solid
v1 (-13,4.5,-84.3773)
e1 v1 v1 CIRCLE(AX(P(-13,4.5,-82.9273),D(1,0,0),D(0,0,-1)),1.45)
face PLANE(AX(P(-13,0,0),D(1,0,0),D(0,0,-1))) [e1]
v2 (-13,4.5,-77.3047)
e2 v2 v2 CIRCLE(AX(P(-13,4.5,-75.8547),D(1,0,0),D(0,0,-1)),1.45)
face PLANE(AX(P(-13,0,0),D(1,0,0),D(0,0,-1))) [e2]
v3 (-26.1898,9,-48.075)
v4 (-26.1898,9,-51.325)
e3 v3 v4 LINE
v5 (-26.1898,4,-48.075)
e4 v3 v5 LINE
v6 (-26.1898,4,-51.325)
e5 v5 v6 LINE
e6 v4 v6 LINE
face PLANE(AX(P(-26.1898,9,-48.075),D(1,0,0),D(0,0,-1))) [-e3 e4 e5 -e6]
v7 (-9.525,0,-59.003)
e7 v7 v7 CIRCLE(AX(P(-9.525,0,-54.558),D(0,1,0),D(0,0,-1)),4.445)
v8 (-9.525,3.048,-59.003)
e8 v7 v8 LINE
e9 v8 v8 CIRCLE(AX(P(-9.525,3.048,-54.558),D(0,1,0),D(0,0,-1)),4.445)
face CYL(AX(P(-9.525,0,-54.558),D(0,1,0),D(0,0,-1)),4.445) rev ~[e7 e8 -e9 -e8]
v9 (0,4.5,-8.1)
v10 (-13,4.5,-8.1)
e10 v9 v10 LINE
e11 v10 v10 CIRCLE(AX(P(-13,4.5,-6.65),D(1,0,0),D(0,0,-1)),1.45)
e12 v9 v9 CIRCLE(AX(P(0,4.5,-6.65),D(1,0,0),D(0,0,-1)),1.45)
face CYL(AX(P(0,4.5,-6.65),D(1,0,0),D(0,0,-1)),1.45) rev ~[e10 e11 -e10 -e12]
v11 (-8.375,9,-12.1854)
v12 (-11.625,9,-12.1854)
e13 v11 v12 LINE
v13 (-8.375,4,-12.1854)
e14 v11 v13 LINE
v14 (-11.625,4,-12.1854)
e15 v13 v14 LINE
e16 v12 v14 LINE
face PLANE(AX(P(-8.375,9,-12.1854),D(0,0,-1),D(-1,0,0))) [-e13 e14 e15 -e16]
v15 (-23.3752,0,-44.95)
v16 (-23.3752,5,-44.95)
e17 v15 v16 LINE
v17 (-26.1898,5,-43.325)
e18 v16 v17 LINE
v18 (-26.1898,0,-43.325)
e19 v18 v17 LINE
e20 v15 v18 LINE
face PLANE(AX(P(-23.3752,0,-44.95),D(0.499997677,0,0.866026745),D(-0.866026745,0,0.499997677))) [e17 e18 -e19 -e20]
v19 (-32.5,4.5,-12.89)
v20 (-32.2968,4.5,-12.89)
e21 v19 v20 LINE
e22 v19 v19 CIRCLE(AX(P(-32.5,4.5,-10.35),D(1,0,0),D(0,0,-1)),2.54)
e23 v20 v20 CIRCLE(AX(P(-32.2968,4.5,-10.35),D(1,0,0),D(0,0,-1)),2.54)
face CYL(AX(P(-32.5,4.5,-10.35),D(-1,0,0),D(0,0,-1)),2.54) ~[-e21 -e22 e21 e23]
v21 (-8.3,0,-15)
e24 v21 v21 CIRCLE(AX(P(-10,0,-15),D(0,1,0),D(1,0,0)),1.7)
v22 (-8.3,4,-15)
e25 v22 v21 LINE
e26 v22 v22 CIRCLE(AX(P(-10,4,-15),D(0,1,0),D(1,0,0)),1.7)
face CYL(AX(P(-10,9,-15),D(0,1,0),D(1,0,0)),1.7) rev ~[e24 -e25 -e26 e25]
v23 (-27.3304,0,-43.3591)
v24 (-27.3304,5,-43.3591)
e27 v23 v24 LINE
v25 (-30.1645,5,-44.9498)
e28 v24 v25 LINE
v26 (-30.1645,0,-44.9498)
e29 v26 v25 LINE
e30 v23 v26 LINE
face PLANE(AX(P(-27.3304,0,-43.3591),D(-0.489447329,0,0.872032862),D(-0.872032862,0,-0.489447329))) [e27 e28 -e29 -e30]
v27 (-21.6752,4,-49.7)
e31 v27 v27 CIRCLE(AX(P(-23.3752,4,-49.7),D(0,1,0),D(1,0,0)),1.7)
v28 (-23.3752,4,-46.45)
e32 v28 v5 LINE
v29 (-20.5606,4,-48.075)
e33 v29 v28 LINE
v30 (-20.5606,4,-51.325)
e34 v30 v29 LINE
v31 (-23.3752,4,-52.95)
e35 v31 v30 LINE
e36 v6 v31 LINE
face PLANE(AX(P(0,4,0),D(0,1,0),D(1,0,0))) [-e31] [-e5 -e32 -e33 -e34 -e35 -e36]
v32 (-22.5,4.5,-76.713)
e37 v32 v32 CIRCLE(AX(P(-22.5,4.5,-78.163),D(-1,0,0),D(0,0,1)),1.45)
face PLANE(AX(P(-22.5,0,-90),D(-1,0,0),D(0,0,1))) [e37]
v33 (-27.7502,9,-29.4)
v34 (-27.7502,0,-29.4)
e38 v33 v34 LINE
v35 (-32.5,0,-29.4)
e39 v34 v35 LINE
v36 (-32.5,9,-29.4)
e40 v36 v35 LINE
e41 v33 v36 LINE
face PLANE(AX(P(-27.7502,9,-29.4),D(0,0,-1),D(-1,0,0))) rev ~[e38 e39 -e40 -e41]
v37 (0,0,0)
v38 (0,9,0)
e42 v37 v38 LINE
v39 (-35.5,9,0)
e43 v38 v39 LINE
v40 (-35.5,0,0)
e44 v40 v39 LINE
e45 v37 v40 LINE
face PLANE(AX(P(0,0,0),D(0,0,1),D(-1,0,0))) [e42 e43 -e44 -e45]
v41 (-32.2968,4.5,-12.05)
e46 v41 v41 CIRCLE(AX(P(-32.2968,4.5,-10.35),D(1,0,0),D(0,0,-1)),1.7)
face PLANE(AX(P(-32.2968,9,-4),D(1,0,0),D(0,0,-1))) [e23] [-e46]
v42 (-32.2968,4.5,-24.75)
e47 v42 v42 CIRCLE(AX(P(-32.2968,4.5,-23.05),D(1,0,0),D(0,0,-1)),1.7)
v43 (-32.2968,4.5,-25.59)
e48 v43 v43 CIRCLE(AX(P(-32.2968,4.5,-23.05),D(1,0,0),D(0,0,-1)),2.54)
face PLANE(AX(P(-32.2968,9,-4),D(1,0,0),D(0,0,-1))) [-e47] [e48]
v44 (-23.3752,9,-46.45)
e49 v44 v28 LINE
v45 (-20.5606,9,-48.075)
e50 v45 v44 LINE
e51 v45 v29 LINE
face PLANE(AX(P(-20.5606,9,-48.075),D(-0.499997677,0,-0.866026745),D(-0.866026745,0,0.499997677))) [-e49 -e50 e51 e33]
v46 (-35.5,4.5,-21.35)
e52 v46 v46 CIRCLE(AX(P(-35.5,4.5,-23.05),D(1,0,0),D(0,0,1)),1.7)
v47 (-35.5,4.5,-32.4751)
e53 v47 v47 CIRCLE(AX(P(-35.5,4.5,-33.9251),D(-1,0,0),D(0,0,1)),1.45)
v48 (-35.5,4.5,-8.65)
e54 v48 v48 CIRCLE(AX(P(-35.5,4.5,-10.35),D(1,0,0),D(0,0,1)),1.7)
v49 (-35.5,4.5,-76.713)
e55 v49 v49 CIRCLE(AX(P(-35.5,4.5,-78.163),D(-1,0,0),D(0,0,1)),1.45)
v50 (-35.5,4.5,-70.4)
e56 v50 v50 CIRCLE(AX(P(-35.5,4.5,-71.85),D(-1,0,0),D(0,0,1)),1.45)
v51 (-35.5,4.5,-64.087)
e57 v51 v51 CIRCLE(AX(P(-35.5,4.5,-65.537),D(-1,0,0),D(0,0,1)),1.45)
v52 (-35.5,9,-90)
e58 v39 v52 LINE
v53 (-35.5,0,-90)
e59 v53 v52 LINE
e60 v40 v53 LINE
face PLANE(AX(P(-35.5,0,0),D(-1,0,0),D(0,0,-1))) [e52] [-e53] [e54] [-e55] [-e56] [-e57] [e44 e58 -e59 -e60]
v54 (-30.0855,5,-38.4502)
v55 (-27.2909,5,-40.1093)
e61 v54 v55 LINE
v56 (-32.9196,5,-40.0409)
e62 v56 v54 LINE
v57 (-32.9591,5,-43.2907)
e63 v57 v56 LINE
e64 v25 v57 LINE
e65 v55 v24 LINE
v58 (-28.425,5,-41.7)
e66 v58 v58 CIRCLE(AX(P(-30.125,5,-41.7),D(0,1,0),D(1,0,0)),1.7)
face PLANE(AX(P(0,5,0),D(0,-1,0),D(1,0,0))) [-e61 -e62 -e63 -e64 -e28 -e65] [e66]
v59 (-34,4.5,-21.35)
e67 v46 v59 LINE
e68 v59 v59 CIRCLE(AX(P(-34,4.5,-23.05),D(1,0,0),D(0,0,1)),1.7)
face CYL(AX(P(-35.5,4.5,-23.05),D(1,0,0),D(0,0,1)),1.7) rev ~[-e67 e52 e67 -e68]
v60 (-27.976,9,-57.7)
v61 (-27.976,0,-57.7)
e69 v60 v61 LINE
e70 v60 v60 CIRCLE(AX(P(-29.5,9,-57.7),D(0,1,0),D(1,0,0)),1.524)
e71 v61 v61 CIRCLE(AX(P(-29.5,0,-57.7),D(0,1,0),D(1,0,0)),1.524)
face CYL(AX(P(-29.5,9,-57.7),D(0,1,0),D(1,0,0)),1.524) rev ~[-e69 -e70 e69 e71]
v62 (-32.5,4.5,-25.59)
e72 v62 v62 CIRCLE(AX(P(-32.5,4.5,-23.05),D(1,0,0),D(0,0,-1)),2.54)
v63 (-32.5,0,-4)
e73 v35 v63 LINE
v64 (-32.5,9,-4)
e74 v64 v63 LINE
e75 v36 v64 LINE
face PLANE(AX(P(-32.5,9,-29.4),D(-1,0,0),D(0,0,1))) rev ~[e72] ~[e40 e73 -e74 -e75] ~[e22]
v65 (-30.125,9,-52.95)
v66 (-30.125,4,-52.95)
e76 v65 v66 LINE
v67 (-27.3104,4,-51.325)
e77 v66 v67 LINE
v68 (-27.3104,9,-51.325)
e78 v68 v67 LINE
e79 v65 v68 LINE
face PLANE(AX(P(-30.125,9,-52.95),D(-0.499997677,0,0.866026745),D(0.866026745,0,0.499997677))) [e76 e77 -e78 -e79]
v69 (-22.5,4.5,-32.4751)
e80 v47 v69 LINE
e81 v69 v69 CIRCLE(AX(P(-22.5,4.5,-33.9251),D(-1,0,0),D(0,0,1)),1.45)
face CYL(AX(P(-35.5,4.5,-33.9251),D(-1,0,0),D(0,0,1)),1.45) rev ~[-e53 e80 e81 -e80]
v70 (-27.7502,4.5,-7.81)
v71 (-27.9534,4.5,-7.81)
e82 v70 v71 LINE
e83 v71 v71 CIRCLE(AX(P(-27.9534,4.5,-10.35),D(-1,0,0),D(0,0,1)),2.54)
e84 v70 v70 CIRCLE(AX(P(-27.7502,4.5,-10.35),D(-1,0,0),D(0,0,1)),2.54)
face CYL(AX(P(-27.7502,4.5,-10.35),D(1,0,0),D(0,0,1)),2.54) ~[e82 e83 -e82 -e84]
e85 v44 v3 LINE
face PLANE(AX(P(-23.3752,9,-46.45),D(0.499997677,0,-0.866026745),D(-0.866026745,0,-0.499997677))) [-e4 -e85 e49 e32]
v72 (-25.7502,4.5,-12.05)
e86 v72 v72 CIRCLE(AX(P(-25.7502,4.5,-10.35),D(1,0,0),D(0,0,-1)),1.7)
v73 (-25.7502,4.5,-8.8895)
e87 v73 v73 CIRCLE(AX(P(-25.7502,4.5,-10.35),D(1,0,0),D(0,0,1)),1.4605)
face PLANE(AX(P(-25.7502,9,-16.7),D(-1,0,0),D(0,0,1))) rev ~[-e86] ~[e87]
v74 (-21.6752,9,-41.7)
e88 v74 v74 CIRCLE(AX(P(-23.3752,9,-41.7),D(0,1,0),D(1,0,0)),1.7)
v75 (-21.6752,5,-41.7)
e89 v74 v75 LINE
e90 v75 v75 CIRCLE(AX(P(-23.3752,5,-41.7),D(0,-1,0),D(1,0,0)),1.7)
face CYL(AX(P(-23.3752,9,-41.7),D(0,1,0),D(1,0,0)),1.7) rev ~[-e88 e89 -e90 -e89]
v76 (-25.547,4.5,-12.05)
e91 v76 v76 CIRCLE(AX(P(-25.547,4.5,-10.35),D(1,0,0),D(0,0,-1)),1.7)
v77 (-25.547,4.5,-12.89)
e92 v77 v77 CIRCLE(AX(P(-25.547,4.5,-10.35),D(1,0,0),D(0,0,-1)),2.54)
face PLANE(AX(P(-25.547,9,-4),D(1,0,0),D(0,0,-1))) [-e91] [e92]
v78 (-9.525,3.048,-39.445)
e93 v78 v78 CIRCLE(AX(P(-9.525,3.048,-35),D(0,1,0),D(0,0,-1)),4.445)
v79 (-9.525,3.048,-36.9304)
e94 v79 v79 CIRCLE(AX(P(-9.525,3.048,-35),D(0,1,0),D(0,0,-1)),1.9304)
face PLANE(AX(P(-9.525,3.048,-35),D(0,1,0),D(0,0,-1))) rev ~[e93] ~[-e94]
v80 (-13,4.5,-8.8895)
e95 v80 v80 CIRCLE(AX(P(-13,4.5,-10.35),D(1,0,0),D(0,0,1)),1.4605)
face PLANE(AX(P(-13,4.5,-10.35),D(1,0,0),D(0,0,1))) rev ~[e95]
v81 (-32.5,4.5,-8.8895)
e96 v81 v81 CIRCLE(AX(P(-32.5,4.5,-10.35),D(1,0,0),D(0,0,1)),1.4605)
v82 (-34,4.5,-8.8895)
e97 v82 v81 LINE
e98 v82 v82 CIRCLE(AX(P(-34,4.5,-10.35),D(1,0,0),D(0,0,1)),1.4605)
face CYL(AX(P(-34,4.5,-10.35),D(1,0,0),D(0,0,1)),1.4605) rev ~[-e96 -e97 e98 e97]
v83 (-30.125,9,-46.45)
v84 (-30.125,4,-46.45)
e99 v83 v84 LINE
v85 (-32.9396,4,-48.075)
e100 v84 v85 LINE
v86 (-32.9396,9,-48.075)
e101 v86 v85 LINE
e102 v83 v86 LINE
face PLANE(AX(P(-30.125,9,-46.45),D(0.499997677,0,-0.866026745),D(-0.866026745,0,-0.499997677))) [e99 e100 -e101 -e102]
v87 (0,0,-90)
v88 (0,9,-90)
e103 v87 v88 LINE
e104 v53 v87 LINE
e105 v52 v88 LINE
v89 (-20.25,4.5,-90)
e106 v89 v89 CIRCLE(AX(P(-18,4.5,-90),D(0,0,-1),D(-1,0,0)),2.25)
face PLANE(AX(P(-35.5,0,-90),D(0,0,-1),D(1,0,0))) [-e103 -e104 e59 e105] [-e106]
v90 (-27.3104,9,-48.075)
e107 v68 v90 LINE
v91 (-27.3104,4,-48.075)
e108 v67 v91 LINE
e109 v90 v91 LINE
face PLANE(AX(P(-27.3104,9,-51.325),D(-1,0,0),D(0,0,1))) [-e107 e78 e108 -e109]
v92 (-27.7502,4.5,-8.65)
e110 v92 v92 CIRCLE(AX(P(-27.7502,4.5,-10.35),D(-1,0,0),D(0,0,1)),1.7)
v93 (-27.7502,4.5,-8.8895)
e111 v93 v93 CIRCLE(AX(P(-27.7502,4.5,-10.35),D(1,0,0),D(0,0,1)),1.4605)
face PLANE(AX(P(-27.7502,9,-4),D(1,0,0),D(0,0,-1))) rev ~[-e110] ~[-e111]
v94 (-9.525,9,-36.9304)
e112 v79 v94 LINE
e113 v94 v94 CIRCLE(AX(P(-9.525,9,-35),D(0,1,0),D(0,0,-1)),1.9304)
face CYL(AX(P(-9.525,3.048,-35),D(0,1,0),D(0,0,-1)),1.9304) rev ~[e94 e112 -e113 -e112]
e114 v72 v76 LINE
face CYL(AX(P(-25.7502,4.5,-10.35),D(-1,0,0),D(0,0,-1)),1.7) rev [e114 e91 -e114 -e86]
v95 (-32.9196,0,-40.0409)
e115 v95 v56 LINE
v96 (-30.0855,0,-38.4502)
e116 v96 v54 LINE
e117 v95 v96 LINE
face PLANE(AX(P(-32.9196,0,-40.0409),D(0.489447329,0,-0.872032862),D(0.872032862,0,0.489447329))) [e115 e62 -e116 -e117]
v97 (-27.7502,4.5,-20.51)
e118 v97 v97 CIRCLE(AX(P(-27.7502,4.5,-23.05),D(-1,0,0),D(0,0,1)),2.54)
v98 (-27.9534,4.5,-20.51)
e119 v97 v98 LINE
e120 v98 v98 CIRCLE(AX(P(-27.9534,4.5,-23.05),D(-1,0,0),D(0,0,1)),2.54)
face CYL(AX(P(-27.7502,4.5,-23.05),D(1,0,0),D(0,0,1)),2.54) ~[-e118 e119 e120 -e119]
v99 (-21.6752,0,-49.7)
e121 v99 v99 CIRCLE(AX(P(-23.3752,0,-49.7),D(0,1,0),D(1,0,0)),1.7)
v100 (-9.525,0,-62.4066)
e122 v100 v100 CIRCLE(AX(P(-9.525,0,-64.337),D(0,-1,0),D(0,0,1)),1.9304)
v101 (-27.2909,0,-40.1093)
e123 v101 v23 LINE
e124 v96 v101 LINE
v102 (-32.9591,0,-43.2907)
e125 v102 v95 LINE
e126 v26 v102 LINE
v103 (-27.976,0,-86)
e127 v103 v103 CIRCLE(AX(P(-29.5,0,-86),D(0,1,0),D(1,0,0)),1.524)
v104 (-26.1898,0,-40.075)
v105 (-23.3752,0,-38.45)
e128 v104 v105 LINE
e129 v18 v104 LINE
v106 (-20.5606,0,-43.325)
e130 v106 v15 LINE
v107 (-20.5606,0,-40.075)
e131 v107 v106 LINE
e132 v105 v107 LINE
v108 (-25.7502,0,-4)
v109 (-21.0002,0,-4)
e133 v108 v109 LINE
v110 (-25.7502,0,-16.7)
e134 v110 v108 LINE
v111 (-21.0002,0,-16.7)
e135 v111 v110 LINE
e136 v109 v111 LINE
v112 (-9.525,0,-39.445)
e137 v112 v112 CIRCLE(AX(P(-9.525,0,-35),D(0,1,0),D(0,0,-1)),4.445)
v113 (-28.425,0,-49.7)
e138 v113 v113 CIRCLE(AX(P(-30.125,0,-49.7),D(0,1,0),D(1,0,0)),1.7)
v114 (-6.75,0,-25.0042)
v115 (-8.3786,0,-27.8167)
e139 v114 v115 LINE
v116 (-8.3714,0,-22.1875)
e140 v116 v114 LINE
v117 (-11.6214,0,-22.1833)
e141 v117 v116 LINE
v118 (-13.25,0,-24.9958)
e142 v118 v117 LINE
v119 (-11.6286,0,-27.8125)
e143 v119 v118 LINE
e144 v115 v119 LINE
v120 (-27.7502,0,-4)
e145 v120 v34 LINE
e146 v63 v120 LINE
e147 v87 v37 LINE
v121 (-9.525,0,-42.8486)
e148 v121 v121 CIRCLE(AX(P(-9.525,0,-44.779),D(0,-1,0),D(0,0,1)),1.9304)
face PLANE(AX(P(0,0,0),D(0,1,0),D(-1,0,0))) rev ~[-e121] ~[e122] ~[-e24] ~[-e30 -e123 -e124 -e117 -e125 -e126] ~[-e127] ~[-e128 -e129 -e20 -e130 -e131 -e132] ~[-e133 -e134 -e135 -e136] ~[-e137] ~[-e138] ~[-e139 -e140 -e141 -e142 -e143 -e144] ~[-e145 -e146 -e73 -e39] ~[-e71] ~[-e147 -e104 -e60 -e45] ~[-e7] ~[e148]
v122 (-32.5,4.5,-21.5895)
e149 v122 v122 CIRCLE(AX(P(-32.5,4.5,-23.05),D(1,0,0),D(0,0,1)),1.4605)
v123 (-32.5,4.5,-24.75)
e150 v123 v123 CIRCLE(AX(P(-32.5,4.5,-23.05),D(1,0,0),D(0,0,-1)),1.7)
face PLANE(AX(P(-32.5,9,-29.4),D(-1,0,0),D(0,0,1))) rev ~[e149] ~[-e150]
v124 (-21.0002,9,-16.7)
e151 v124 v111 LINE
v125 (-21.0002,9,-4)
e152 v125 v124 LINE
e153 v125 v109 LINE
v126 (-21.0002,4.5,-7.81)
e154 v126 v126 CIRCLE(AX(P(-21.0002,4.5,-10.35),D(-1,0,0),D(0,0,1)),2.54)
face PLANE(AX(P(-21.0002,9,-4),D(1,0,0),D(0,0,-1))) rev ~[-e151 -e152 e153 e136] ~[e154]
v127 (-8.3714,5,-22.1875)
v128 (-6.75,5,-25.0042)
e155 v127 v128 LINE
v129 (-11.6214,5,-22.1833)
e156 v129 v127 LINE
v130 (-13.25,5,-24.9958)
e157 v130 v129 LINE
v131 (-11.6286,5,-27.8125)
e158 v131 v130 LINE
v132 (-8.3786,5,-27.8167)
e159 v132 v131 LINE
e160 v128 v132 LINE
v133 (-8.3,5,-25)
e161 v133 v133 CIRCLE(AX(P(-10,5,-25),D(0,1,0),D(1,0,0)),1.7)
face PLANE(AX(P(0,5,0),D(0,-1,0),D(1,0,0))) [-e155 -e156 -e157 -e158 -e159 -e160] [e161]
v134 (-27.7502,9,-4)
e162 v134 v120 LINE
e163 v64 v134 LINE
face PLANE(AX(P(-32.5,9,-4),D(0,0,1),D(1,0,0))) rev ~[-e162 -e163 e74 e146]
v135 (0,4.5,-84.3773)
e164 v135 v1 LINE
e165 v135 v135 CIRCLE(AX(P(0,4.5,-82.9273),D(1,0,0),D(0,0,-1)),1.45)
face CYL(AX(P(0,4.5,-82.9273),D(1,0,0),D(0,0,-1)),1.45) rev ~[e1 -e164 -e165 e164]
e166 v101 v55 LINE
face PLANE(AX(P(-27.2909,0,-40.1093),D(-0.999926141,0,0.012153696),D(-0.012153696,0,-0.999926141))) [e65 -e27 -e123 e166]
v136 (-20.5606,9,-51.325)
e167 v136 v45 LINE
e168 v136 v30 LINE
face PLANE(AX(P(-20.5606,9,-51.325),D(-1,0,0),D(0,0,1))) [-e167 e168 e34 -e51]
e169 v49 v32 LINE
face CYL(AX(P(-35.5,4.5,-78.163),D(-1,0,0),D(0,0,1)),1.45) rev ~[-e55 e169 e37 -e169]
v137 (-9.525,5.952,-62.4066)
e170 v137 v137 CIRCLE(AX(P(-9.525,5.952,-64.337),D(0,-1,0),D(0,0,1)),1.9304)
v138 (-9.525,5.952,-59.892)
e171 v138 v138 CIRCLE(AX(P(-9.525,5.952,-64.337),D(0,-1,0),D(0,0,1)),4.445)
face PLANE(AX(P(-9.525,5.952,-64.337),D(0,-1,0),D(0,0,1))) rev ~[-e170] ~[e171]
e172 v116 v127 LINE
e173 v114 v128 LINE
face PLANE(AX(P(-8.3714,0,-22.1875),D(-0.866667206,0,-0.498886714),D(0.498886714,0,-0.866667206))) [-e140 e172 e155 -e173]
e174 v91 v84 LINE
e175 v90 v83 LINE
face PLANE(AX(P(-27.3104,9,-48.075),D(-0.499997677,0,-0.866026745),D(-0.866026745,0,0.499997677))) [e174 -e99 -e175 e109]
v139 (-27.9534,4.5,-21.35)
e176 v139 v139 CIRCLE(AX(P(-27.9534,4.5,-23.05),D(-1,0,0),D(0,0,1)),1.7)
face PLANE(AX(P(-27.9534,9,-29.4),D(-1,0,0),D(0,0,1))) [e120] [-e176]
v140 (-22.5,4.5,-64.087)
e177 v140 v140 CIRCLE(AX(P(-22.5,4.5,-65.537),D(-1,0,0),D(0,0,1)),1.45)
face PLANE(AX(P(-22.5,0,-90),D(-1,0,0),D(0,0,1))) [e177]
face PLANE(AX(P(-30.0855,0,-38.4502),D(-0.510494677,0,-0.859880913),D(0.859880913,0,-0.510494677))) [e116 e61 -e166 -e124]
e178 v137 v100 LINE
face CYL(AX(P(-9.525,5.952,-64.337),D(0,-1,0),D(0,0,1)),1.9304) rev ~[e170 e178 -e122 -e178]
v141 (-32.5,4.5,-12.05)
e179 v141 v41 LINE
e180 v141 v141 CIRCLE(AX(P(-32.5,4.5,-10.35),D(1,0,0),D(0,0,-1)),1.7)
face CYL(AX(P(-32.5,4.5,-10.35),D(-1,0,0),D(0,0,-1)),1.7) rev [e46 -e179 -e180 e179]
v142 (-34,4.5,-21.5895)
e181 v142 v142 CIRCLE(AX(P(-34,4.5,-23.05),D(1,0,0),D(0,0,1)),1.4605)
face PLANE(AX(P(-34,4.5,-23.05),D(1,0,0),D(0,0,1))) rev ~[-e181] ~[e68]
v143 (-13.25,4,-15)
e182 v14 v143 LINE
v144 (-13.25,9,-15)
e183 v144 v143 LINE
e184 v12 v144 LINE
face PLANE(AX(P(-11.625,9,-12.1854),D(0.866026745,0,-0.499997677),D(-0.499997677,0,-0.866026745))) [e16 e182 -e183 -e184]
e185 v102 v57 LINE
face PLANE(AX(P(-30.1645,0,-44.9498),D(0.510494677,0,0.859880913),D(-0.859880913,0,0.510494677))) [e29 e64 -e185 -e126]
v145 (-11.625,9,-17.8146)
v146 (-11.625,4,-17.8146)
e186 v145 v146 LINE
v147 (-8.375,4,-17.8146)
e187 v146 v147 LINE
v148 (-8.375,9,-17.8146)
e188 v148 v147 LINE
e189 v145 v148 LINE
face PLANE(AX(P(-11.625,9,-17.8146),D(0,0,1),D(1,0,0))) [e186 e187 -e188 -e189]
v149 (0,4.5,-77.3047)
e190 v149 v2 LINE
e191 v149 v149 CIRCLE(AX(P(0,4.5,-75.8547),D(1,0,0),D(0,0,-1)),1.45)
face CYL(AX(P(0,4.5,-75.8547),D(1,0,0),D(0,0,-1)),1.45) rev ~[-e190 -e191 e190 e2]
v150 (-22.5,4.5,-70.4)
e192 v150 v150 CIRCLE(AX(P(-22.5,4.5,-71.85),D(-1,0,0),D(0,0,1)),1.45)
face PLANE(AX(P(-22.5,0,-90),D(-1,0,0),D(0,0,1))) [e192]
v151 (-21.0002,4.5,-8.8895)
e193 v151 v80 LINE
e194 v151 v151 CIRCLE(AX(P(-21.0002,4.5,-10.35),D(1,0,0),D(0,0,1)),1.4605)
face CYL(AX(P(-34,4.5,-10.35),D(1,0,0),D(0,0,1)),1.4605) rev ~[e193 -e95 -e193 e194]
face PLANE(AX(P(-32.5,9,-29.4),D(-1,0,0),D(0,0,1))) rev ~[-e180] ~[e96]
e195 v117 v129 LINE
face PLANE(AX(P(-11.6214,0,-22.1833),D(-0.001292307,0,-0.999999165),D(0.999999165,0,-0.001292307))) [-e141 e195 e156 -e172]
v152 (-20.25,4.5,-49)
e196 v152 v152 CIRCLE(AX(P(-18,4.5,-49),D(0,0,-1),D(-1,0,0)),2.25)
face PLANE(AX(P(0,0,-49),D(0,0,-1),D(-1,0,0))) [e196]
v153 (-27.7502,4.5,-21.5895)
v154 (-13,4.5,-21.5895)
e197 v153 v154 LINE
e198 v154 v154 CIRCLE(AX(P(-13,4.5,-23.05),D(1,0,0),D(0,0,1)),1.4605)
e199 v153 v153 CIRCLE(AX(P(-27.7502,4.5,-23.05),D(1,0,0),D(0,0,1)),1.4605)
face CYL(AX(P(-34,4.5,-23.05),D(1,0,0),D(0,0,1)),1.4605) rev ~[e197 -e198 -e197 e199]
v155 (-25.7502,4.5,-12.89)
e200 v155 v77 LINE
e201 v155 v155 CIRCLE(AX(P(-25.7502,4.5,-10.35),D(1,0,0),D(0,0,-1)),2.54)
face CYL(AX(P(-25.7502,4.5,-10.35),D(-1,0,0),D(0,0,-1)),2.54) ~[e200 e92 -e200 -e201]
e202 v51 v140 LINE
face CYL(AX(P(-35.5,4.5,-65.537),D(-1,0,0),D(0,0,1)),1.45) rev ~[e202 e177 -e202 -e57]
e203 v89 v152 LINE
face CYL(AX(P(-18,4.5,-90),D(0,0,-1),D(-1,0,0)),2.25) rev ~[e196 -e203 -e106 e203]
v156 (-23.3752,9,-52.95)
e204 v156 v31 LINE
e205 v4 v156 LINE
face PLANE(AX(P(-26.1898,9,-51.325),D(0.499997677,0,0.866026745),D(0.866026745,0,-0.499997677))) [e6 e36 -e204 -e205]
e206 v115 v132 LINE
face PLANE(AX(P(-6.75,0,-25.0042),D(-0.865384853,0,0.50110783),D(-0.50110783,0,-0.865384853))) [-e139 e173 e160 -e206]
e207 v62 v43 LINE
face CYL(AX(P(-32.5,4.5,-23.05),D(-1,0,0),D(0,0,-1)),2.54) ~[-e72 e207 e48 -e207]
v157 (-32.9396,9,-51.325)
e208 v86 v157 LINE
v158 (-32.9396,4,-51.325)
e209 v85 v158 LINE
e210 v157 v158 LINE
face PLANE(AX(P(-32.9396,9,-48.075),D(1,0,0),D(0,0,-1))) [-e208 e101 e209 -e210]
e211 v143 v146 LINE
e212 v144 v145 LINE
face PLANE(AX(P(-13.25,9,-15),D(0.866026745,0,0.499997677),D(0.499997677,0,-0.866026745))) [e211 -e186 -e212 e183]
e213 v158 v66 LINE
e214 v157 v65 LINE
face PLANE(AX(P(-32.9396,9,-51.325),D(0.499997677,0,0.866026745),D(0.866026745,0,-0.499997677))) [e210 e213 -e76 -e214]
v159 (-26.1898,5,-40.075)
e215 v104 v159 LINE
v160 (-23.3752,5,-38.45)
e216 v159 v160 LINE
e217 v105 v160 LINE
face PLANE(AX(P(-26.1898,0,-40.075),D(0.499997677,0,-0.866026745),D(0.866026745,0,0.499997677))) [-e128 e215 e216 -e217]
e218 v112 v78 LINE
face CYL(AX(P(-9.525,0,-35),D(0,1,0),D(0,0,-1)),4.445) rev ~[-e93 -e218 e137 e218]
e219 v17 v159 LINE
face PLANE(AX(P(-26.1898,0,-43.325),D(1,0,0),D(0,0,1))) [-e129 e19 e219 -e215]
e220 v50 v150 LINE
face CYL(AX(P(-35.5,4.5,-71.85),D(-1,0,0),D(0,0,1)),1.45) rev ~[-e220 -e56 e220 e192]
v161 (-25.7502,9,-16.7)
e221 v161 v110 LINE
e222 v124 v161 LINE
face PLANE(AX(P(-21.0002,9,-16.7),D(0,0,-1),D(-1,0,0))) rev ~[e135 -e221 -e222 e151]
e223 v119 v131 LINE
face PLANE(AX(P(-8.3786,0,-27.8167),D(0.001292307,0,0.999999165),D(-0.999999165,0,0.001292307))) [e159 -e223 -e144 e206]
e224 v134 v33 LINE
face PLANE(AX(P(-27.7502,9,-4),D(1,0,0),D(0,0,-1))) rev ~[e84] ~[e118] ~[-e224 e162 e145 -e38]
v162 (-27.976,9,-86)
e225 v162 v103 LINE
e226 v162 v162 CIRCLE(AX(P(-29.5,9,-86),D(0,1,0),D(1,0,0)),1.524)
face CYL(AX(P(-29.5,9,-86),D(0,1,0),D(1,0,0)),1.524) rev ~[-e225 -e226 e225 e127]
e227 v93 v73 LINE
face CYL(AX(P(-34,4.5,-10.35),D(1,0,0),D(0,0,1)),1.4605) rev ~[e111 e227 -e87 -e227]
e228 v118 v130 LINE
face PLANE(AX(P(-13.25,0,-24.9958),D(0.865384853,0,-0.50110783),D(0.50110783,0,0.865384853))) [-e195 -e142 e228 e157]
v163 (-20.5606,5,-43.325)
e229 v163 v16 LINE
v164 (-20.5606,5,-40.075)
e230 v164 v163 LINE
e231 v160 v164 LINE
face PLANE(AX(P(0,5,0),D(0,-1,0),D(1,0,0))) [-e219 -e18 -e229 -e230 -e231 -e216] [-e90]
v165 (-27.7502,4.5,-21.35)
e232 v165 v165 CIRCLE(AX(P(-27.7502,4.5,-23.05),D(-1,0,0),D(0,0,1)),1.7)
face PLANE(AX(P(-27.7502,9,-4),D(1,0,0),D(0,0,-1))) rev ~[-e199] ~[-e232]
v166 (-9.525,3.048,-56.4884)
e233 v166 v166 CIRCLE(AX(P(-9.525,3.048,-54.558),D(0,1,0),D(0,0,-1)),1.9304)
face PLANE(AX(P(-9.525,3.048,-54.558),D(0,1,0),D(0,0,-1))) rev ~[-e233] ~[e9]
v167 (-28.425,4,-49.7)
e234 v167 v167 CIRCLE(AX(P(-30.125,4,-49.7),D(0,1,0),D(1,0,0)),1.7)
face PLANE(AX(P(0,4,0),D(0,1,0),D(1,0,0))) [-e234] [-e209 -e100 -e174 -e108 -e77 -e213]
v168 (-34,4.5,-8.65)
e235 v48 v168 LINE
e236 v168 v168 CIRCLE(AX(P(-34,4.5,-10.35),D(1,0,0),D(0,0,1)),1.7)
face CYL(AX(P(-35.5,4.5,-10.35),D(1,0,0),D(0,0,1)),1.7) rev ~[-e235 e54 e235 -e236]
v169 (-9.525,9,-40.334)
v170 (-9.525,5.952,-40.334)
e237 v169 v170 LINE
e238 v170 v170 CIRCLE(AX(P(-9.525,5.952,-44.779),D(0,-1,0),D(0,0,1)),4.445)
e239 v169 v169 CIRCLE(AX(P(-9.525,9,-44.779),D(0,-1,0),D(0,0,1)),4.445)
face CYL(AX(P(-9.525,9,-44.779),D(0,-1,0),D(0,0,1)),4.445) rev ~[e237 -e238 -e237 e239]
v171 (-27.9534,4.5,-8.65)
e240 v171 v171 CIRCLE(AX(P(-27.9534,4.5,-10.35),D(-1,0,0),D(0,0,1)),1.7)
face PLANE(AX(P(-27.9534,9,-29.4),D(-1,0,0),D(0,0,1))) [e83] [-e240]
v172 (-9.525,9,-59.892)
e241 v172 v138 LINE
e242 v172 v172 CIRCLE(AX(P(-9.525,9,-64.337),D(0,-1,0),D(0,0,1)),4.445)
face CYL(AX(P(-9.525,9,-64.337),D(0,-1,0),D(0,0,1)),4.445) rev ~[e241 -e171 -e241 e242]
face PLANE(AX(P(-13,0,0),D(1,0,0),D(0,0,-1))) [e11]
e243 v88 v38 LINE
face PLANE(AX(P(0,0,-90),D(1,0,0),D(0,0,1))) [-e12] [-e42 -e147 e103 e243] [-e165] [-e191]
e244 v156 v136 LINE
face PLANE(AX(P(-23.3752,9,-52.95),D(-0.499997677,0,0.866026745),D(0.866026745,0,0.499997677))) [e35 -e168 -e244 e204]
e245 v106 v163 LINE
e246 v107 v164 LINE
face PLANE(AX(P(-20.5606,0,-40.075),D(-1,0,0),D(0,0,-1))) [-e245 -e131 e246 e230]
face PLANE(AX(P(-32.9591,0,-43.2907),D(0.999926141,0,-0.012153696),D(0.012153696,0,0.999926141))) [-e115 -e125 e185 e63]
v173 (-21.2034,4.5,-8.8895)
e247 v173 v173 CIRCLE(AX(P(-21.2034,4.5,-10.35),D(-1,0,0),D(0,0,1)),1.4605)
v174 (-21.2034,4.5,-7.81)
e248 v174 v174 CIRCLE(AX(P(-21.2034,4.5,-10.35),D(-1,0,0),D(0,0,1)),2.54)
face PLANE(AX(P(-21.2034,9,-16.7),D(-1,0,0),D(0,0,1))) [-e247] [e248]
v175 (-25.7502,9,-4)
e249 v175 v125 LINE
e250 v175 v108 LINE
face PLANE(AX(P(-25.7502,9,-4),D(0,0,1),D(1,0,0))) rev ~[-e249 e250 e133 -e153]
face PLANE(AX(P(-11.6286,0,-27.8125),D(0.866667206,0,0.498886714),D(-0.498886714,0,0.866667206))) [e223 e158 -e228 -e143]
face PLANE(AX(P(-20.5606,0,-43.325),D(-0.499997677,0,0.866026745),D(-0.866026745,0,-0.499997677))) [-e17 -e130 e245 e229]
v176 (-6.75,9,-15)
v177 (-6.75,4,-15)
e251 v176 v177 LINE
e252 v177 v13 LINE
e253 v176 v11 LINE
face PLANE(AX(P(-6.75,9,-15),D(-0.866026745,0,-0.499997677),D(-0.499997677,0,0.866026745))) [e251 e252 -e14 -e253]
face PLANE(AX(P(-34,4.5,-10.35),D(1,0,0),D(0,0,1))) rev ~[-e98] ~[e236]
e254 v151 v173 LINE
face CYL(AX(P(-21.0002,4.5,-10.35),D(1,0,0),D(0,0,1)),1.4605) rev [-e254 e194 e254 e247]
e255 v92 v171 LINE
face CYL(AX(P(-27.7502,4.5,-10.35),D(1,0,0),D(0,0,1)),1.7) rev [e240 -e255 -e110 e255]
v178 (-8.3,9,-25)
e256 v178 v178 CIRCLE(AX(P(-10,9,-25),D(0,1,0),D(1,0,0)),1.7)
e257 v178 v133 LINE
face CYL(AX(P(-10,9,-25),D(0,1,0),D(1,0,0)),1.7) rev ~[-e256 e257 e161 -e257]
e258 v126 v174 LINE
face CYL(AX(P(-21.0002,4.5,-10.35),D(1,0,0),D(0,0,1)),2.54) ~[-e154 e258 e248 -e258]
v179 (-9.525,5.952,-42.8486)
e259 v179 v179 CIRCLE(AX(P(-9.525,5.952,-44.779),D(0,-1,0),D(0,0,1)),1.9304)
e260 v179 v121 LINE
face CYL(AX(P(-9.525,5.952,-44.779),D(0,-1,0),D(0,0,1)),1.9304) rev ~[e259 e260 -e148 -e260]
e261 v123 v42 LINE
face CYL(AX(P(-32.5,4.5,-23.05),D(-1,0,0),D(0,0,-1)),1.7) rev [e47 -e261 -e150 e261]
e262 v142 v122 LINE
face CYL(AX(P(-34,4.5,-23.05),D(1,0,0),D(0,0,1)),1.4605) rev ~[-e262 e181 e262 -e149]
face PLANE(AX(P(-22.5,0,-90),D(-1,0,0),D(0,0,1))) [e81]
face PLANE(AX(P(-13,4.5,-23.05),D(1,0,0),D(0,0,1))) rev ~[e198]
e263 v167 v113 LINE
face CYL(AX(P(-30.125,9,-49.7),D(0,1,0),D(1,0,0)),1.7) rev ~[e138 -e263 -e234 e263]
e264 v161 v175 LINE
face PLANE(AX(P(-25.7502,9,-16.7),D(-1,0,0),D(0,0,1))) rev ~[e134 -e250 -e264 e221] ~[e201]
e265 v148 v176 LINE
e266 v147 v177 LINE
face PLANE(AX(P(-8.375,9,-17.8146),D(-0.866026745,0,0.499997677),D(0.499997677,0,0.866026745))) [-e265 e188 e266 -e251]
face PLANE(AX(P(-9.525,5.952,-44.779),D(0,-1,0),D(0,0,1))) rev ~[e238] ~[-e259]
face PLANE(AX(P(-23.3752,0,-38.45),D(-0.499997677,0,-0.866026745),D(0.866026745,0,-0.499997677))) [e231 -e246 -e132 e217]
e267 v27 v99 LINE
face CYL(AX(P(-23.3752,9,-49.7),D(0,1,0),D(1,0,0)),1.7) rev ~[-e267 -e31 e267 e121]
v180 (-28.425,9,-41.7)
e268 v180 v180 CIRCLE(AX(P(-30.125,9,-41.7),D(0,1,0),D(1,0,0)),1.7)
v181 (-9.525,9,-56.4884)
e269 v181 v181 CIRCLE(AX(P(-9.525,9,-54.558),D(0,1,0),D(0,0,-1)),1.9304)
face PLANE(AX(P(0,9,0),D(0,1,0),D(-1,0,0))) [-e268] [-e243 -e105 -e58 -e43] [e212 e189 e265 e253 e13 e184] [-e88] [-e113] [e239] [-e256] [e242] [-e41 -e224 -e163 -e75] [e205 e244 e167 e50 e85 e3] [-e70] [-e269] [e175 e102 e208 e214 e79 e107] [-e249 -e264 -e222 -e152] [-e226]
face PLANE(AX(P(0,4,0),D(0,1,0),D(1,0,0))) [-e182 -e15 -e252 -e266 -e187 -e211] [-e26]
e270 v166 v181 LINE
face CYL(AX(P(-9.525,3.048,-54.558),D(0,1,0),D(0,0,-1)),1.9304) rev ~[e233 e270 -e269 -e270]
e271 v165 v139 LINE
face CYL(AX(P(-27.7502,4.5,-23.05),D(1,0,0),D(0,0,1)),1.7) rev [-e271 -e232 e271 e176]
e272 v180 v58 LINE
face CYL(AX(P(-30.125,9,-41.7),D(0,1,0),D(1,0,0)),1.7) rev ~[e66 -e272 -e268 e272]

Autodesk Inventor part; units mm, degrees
ref_plane "YZ Plane" through (0, 0, 0) normal (1, 0, 0) x (0, 1, 0)
sketch "Sketch1" plane through (0, 0, 0) normal (0, 1, 0) x (-1, 0, 0)
  line L0 (0, 0) -> (35.5, 0)
  line L1 (35.5, 0) -> (35.5, -90)
  line L2 (35.5, -90) -> (0, -90)
  line L3 (0, -90) -> (0, 0)
  dimension "d0" = 35.5
  dimension "d1" = 90
extrude "BlockShape" add sketch "Sketch1" along normal blind 9
sketch "Sketch3" plane through (0, 0, 0) normal (0, -1, 0) x (1, 0, 0)
  circle A0 centre (-10, -25) radius 3.25 construction
  line L0 (0, 0) -> (-35.5, 0) projected
  line L1 (-35.5, 0) -> (-35.5, -90) projected
  line L2 (-11.6286, -27.8125) -> (-13.25, -24.9958)
  line L3 (-13.25, -24.9958) -> (-11.6214, -22.1833)
  line L4 (-11.6214, -22.1833) -> (-8.3714, -22.1875)
  line L5 (-8.3714, -22.1875) -> (-6.75, -25.0042)
  line L6 (-6.75, -25.0042) -> (-8.3786, -27.8167)
  line L7 (-8.3786, -27.8167) -> (-11.6286, -27.8125)
  line L8 (0, -90) -> (0, 0) projected
  dimension "d15" = 6.5
  dimension "d16" = 25
  dimension "d26" = 10
extrude "SlideMountingNutWell1" cut sketch "Sketch3" against normal blind 5
sketch "Sketch5" plane through (0, 9, 0) normal (0, 1, 0) x (1, 0, 0)
  line L0 (0, 0) -> (0, 90) projected
  line L1 (-35.5, 0) -> (0, 0) projected
  circle A0 centre (-10, 25) radius 1.7
  circle A1 centre (-10, 15) radius 1.7
  dimension "d36" = 3.4
  dimension "d37" = 25
  dimension "d137" = 3.4
  dimension "d138" = 15
extrude "SlideMountingHoles" cut sketch "Sketch5" against normal through all
sketch "Sketch6" plane through (0, 9, 0) normal (0, 1, 0) x (1, 0, 0)
  line L0 (-32.5, 4) -> (-27.7502, 4)
  line L1 (-27.7502, 4) -> (-27.7502, 29.4)
  line L2 (-27.7502, 29.4) -> (-32.5, 29.4)
  line L3 (-32.5, 29.4) -> (-32.5, 4)
  line L4 (-35.5, 0) -> (0, 0) projected
  line L5 (-35.5, 90) -> (-35.5, 0) projected
  line L6 (-25.7502, 4) -> (-21.0002, 4)
  line L7 (-21.0002, 4) -> (-21.0002, 16.7)
  line L8 (-21.0002, 16.7) -> (-25.7502, 16.7)
  line L9 (-25.7502, 16.7) -> (-25.7502, 4)
  line L10 (0, 0) -> (0, 90) construction
  line L11 (-35.5, 90) -> (0, 90) projected
  line L12 (0, 0) -> (-20, 0) construction
  line L13 (-20, 0) -> (-20, 90) construction
  line L14 (-20, 90) -> (0, 90) construction
  line L15 (0, 90) -> (0, 0)
  circle A0 centre (-23.3752, 41.7) radius 1.7
  circle A1 centre (-30.125, 41.7) radius 1.7
  circle A2 centre (-30.125, 49.7) radius 1.7
  circle A3 centre (-23.3752, 49.7) radius 1.7
  dimension "d43" = 4.7498
  dimension "d44" = 25.4
  dimension "d45" = 4
  dimension "d46" = 3
  dimension "d47" = 4.75
  dimension "d48" = 2
  dimension "d49" = 20
  dimension "d50" = 3.4
  dimension "d90" = 3.4
  dimension "d91" = 5.375
  dimension "d92" = 3.4
  dimension "d93" = 8
  dimension "d94" = 3.4
  dimension "d99" = 40.3
extrude "Shape" cut sketch "Sketch6" against normal through all contours L3 L2 L1 L0 | L9 L8 L7 L6 | A0 | A1 | A2 | A3
sketch "Sketch7" plane through (0, 0, 0) normal (0, -1, 0) x (1, 0, 0)
  circle A0 centre (-23.3752, -41.7) radius 1.7 projected
  circle A1 centre (-23.3752, -41.7) radius 3.25 construction
  line L0 (-23.3752, -38.45) -> (-20.5606, -40.075)
  line L1 (-20.5606, -40.075) -> (-20.5606, -43.325)
  line L2 (-20.5606, -43.325) -> (-23.3752, -44.95)
  line L3 (-23.3752, -44.95) -> (-26.1898, -43.325)
  line L4 (-26.1898, -43.325) -> (-26.1898, -40.075)
  line L5 (-26.1898, -40.075) -> (-23.3752, -38.45)
  line L6 (0, 0) -> (-35.5, 0) projected
  circle A2 centre (-30.125, -41.7) radius 3.25 construction
  line L7 (-35.5, 0) -> (-35.5, -90) projected
  line L8 (-30.1645, -44.9498) -> (-32.9591, -43.2907)
  line L9 (-32.9591, -43.2907) -> (-32.9196, -40.0409)
  line L10 (-32.9196, -40.0409) -> (-30.0855, -38.4502)
  line L11 (-30.0855, -38.4502) -> (-27.2909, -40.1093)
  line L12 (-27.2909, -40.1093) -> (-27.3304, -43.3591)
  line L13 (-27.3304, -43.3591) -> (-30.1645, -44.9498)
  dimension "d88" = 6.5
  dimension "d54" = 6.5
  dimension "d87" = 41.7
  dimension "d89" = 5.375
extrude "TensionNutWells1" cut sketch "Sketch7" against normal blind 5
sketch "Sketch8" plane through (-35.5, 0, -90) normal (-1, 0, 0) x (0, 0, 1)
  circle A0 centre (79.65, 4.5) radius 1.4605
  line L0 (0, 9) -> (90, 9) projected
  line L1 (90, 0) -> (90, 9) projected
  circle A1 centre (66.95, 4.5) radius 1.4605
  dimension "d57" = 2.921
  dimension "d58" = 4.5
  dimension "d59" = 10.35
  dimension "d103" = 2.921
  dimension "d104" = 4.5
  dimension "d105" = 12.7
hole "PulleyMountingHoles" at (-35.5, 4.5, -10.35) at (-35.5, 4.5, -23.05) direction (1, 0, 0) diameter 2.921 depth 22.5 counterbore diameter 3.4 counterbore depth 1.5
sketch "Sketch9" plane through (-21.0002, 9, -16.7) normal (-1, 0, 0) x (0, 0, 1)
  circle A0 centre (6.35, -4.5) radius 1.4605 projected
  circle A1 centre (6.35, -4.5) radius 2.54
  point P0 (16.7, -9)
  dimension "d67" = 5.08
extrude "PulleyStandoff1" add sketch "Sketch9" along normal blind 0.2032
sketch "Sketch10" plane through (-27.7502, 9, -29.4) normal (-1, 0, 0) x (0, 0, 1)
  circle A0 centre (6.35, -4.5) radius 1.7 projected
  circle A1 centre (6.35, -4.5) radius 2.54
  circle A2 centre (19.05, -4.5) radius 2.54 projected
  circle A3 centre (19.05, -4.5) radius 2.54
  circle A4 centre (19.05, -4.5) radius 1.7
  point P0 (29.4, -9)
  dimension "d70" = 5.08
  dimension "d106" = 3.4
extrude "PulleyStandoff3" add sketch "Sketch10" along normal blind 0.2032
sketch "Sketch11" plane through (-25.7502, 9, -4) normal (1, 0, 0) x (0, 0, -1)
  circle A0 centre (6.35, -4.5) radius 1.7 projected
  circle A1 centre (6.35, -4.5) radius 2.54
  point P0 (-4, -9)
  dimension "d73" = 5.08
extrude "PulleyStandoff2" add sketch "Sketch11" along normal blind 0.2032
sketch "Sketch12" plane through (-32.5, 9, -4) normal (1, 0, 0) x (0, 0, -1)
  circle A0 centre (6.35, -4.5) radius 1.7 projected
  circle A1 centre (6.35, -4.5) radius 2.54
  circle A2 centre (19.05, -4.5) radius 1.4605 projected
  circle A3 centre (19.05, -4.5) radius 2.54
  circle A4 centre (19.05, -4.5) radius 1.7
  point P0 (-4, -9)
  dimension "d76" = 5.08
  dimension "d107" = 5.08
  dimension "d108" = 3.4
extrude "PulleyStandof4" add sketch "Sketch12" along normal blind 0.2032 contours A1 | A3
sketch "Sketch14" plane through (0, 0, -90) normal (0, 0, -1) x (-1, 0, 0)
  circle A0 centre (18, 4.5) radius 2.25
  line L0 (35.5, 0) -> (0, 0) projected
  line L1 (0, 0) -> (0, 9) projected
  dimension "d82" = 4.5
  dimension "d83" = 4.5
  dimension "d84" = 18
extrude "4mmShaft" cut sketch "Sketch14" against normal blind 41
sketch "Sketch15" plane through (0, 9, 0) normal (0, 1, 0) x (1, 0, 0)
  circle A0 centre (-30.125, 49.7) radius 1.7 projected
  circle A1 centre (-30.125, 49.7) radius 3.25 construction
  circle A2 centre (-23.3752, 49.7) radius 1.7 projected
  circle A3 centre (-23.3752, 49.7) radius 3.25 construction
  line L0 (-30.125, 52.95) -> (-27.3104, 51.325)
  line L1 (-27.3104, 51.325) -> (-27.3104, 48.075)
  line L2 (-27.3104, 48.075) -> (-30.125, 46.45)
  line L3 (-30.125, 46.45) -> (-32.9396, 48.075)
  line L4 (-32.9396, 48.075) -> (-32.9396, 51.325)
  line L5 (-32.9396, 51.325) -> (-30.125, 52.95)
  line L6 (-23.3752, 52.95) -> (-20.5606, 51.325)
  line L7 (-20.5606, 51.325) -> (-20.5606, 48.075)
  line L8 (-20.5606, 48.075) -> (-23.3752, 46.45)
  line L9 (-23.3752, 46.45) -> (-26.1898, 48.075)
  line L10 (-26.1898, 48.075) -> (-26.1898, 51.325)
  line L11 (-26.1898, 51.325) -> (-23.3752, 52.95)
  point P0 (0, 0)
  dimension "d95" = 6.5
  dimension "d96" = 6.5
extrude "TensionNutWells2" cut sketch "Sketch15" against normal blind 5
ref_plane "PulleyMidPlane1" through (-30.1251, 9, -4) normal (1, 0, 0) x (0, 0, -1)
ref_plane "PulleyMidPlane2" through (-23.3752, 9, -4) normal (1, 0, 0) x (0, 0, -1)
sketch "Sketch20" plane through (0, 9, 0) normal (0, 1, 0) x (1, 0, 0)
  circle A0 centre (-29.5, 86) radius 1.524
  circle A1 centre (-29.5, 57.7) radius 1.524
  line L0 (-35.5, 90) -> (-35.5, 0) projected
  line L1 (0, 90) -> (-35.5, 90) projected
  circle A2 centre (-30.125, 49.7) radius 1.7 projected
  point P0 (0, 0)
  dimension "d129" = 3.048
  dimension "d130" = 3.048
  dimension "d131" = 6
  dimension "d132" = 4
  dimension "d133" = 6
  dimension "d134" = 8
extrude "TieWrapHoles" cut sketch "Sketch20" against normal through all contours A0 | A1
sketch "Sketch21" plane through (0, 9, 0) normal (0, 1, 0) x (1, 0, 0)
  circle A0 centre (-10, 15) radius 1.7 construction
  circle A1 centre (-10, 15) radius 3.25 construction
  line L0 (-6.75, 15) -> (-8.375, 12.1854)
  line L1 (-8.375, 12.1854) -> (-11.625, 12.1854)
  line L2 (-11.625, 12.1854) -> (-13.25, 15)
  line L3 (-13.25, 15) -> (-11.625, 17.8146)
  line L4 (-11.625, 17.8146) -> (-8.375, 17.8146)
  line L5 (-8.375, 17.8146) -> (-6.75, 15)
  point P0 (0, 0)
  dimension "d139" = 6.5
extrude "SlideMountingNutWell2" cut sketch "Sketch21" against normal blind 5
sketch "Sketch22" plane through (0, 0, 0) normal (0, -1, 0) x (1, 0, 0)
  circle A0 centre (-9.525, -35) radius 1.9304 construction
  circle A1 centre (-9.525, -54.558) radius 1.9304 construction
  circle A2 centre (-10, -25) radius 1.7 construction
  line L0 (0, -90) -> (0, 0) construction
  dimension "d142" = 3.8608
  dimension "d143" = 3.8608
  dimension "d144" = 19.558
  dimension "d145" = 9.525
  dimension "d146" = 10
hole "XRrailMountingHoles1" at (-9.525, 0, -54.558) at (-9.525, 0, -35) direction (0, 1, 0) diameter 3.8608 end through all counterbore diameter 8.89 counterbore depth 3.048
sketch "Sketch23" plane through (0, 9, 0) normal (0, 1, 0) x (1, 0, 0)
  circle A0 centre (-9.525, 44.779) radius 1.9304 construction
  circle A1 centre (-9.525, 64.337) radius 1.9304 construction
  circle A2 centre (-9.525, 35) radius 1.9304 projected
  line L0 (0, 0) -> (0, 90) projected
  dimension "d154" = 3.8608
  dimension "d155" = 3.8608
  dimension "d156" = 19.558
  dimension "d157" = 9.779
  dimension "d158" = 9.525
hole "XRrailMountingHoles2" at (-9.525, 9, -44.779) at (-9.525, 9, -64.337) direction (0, -1, 0) diameter 3.8608 end through all counterbore diameter 8.89 counterbore depth 3.048
sketch "Sketch25" plane through (0, 0, 0) normal (1, 0, 0) x (0, 0, -1)
  circle A0 centre (6.65, 4.5) radius 1.45
  line L0 (90, 0) -> (0, 0) construction
  line L1 (0, 9) -> (90, 9) construction
  line L2 (13.3, 4) -> (13.3, 0) construction
  line L3 (0, 0) -> (0, 9) construction
  line L4 (66.2674, 5.952) -> (62.4066, 5.952) construction
  line L5 (59.892, 9) -> (68.782, 9) construction
  line L6 (68.782, 5.952) -> (59.892, 5.952) construction
  line L7 (90, 0) -> (90, 9) construction
  circle A1 centre (75.8547, 4.5) radius 1.45
  circle A2 centre (82.9273, 4.5) radius 1.45
  dimension "d178" = 2.9
  dimension "d179" = 9
  dimension "d180" = 4.5
  dimension "d181" = 13.3
  dimension "d182" = 6.65
  dimension "d183" = 21.218
  dimension "d184" = 2.9
  dimension "d185" = 2.9
  dimension "d186" = 4.5
  dimension "d187" = 4.5
  dimension "d188" = 7.0727
  dimension "d189" = 7.0727
extrude "NonPulleySideHoles" cut sketch "Sketch25" against normal blind 13
sketch "Sketch26" plane through (-35.5, 0, -90) normal (-1, 0, 0) x (0, 0, 1)
  line L0 (60.6, 9) -> (60.6, 0) construction
  line L1 (51.5498, 0) -> (51.5498, 5) construction
  line L2 (33.824, 0) -> (30.776, 0) construction
  line L3 (5.524, 0) -> (2.476, 0) construction
  circle A0 centre (56.0749, 4.5) radius 1.45
  circle A1 centre (24.463, 4.5) radius 1.45
  line L4 (30.776, 9) -> (30.776, 0) construction
  line L5 (5.524, 9) -> (5.524, 0) construction
  line L6 (0, 9) -> (90, 9) projected
  circle A2 centre (18.15, 4.5) radius 1.45
  circle A3 centre (11.837, 4.5) radius 1.45
  point P0 (90, 0)
  dimension "d192" = 2.9
  dimension "d193" = 2.9
  dimension "d196" = 25.252
  dimension "d197" = 6.313
  dimension "d198" = 4.5
  dimension "d199" = 4.5
  dimension "d202" = 6.313
  dimension "d207" = 9.0502
  dimension "d208" = 4.5251
extrude "Extrusion17" cut sketch "Sketch26" against normal blind 13
equation "\"d133\" = d131"
equation "\"d157\" = 0.5 * d156"
equation "\"d158\" = d145"
equation "\"d180\" = 0.5 * d179"
equation "\"d182\" = 0.5 * d181"
equation "\"d186\" = d180"
equation "\"d187\" = d180"
equation "\"d188\" = 0.333333 * d183"
equation "\"d189\" = d188"
equation "\"d197\" = 0.25 * d196"
equation "\"d198\" = d180"
equation "\"d199\" = d180"
equation "\"d202\" = d197"
equation "\"d208\" = 0.5 * d207"
properties part number "Front fixed top coupler"
